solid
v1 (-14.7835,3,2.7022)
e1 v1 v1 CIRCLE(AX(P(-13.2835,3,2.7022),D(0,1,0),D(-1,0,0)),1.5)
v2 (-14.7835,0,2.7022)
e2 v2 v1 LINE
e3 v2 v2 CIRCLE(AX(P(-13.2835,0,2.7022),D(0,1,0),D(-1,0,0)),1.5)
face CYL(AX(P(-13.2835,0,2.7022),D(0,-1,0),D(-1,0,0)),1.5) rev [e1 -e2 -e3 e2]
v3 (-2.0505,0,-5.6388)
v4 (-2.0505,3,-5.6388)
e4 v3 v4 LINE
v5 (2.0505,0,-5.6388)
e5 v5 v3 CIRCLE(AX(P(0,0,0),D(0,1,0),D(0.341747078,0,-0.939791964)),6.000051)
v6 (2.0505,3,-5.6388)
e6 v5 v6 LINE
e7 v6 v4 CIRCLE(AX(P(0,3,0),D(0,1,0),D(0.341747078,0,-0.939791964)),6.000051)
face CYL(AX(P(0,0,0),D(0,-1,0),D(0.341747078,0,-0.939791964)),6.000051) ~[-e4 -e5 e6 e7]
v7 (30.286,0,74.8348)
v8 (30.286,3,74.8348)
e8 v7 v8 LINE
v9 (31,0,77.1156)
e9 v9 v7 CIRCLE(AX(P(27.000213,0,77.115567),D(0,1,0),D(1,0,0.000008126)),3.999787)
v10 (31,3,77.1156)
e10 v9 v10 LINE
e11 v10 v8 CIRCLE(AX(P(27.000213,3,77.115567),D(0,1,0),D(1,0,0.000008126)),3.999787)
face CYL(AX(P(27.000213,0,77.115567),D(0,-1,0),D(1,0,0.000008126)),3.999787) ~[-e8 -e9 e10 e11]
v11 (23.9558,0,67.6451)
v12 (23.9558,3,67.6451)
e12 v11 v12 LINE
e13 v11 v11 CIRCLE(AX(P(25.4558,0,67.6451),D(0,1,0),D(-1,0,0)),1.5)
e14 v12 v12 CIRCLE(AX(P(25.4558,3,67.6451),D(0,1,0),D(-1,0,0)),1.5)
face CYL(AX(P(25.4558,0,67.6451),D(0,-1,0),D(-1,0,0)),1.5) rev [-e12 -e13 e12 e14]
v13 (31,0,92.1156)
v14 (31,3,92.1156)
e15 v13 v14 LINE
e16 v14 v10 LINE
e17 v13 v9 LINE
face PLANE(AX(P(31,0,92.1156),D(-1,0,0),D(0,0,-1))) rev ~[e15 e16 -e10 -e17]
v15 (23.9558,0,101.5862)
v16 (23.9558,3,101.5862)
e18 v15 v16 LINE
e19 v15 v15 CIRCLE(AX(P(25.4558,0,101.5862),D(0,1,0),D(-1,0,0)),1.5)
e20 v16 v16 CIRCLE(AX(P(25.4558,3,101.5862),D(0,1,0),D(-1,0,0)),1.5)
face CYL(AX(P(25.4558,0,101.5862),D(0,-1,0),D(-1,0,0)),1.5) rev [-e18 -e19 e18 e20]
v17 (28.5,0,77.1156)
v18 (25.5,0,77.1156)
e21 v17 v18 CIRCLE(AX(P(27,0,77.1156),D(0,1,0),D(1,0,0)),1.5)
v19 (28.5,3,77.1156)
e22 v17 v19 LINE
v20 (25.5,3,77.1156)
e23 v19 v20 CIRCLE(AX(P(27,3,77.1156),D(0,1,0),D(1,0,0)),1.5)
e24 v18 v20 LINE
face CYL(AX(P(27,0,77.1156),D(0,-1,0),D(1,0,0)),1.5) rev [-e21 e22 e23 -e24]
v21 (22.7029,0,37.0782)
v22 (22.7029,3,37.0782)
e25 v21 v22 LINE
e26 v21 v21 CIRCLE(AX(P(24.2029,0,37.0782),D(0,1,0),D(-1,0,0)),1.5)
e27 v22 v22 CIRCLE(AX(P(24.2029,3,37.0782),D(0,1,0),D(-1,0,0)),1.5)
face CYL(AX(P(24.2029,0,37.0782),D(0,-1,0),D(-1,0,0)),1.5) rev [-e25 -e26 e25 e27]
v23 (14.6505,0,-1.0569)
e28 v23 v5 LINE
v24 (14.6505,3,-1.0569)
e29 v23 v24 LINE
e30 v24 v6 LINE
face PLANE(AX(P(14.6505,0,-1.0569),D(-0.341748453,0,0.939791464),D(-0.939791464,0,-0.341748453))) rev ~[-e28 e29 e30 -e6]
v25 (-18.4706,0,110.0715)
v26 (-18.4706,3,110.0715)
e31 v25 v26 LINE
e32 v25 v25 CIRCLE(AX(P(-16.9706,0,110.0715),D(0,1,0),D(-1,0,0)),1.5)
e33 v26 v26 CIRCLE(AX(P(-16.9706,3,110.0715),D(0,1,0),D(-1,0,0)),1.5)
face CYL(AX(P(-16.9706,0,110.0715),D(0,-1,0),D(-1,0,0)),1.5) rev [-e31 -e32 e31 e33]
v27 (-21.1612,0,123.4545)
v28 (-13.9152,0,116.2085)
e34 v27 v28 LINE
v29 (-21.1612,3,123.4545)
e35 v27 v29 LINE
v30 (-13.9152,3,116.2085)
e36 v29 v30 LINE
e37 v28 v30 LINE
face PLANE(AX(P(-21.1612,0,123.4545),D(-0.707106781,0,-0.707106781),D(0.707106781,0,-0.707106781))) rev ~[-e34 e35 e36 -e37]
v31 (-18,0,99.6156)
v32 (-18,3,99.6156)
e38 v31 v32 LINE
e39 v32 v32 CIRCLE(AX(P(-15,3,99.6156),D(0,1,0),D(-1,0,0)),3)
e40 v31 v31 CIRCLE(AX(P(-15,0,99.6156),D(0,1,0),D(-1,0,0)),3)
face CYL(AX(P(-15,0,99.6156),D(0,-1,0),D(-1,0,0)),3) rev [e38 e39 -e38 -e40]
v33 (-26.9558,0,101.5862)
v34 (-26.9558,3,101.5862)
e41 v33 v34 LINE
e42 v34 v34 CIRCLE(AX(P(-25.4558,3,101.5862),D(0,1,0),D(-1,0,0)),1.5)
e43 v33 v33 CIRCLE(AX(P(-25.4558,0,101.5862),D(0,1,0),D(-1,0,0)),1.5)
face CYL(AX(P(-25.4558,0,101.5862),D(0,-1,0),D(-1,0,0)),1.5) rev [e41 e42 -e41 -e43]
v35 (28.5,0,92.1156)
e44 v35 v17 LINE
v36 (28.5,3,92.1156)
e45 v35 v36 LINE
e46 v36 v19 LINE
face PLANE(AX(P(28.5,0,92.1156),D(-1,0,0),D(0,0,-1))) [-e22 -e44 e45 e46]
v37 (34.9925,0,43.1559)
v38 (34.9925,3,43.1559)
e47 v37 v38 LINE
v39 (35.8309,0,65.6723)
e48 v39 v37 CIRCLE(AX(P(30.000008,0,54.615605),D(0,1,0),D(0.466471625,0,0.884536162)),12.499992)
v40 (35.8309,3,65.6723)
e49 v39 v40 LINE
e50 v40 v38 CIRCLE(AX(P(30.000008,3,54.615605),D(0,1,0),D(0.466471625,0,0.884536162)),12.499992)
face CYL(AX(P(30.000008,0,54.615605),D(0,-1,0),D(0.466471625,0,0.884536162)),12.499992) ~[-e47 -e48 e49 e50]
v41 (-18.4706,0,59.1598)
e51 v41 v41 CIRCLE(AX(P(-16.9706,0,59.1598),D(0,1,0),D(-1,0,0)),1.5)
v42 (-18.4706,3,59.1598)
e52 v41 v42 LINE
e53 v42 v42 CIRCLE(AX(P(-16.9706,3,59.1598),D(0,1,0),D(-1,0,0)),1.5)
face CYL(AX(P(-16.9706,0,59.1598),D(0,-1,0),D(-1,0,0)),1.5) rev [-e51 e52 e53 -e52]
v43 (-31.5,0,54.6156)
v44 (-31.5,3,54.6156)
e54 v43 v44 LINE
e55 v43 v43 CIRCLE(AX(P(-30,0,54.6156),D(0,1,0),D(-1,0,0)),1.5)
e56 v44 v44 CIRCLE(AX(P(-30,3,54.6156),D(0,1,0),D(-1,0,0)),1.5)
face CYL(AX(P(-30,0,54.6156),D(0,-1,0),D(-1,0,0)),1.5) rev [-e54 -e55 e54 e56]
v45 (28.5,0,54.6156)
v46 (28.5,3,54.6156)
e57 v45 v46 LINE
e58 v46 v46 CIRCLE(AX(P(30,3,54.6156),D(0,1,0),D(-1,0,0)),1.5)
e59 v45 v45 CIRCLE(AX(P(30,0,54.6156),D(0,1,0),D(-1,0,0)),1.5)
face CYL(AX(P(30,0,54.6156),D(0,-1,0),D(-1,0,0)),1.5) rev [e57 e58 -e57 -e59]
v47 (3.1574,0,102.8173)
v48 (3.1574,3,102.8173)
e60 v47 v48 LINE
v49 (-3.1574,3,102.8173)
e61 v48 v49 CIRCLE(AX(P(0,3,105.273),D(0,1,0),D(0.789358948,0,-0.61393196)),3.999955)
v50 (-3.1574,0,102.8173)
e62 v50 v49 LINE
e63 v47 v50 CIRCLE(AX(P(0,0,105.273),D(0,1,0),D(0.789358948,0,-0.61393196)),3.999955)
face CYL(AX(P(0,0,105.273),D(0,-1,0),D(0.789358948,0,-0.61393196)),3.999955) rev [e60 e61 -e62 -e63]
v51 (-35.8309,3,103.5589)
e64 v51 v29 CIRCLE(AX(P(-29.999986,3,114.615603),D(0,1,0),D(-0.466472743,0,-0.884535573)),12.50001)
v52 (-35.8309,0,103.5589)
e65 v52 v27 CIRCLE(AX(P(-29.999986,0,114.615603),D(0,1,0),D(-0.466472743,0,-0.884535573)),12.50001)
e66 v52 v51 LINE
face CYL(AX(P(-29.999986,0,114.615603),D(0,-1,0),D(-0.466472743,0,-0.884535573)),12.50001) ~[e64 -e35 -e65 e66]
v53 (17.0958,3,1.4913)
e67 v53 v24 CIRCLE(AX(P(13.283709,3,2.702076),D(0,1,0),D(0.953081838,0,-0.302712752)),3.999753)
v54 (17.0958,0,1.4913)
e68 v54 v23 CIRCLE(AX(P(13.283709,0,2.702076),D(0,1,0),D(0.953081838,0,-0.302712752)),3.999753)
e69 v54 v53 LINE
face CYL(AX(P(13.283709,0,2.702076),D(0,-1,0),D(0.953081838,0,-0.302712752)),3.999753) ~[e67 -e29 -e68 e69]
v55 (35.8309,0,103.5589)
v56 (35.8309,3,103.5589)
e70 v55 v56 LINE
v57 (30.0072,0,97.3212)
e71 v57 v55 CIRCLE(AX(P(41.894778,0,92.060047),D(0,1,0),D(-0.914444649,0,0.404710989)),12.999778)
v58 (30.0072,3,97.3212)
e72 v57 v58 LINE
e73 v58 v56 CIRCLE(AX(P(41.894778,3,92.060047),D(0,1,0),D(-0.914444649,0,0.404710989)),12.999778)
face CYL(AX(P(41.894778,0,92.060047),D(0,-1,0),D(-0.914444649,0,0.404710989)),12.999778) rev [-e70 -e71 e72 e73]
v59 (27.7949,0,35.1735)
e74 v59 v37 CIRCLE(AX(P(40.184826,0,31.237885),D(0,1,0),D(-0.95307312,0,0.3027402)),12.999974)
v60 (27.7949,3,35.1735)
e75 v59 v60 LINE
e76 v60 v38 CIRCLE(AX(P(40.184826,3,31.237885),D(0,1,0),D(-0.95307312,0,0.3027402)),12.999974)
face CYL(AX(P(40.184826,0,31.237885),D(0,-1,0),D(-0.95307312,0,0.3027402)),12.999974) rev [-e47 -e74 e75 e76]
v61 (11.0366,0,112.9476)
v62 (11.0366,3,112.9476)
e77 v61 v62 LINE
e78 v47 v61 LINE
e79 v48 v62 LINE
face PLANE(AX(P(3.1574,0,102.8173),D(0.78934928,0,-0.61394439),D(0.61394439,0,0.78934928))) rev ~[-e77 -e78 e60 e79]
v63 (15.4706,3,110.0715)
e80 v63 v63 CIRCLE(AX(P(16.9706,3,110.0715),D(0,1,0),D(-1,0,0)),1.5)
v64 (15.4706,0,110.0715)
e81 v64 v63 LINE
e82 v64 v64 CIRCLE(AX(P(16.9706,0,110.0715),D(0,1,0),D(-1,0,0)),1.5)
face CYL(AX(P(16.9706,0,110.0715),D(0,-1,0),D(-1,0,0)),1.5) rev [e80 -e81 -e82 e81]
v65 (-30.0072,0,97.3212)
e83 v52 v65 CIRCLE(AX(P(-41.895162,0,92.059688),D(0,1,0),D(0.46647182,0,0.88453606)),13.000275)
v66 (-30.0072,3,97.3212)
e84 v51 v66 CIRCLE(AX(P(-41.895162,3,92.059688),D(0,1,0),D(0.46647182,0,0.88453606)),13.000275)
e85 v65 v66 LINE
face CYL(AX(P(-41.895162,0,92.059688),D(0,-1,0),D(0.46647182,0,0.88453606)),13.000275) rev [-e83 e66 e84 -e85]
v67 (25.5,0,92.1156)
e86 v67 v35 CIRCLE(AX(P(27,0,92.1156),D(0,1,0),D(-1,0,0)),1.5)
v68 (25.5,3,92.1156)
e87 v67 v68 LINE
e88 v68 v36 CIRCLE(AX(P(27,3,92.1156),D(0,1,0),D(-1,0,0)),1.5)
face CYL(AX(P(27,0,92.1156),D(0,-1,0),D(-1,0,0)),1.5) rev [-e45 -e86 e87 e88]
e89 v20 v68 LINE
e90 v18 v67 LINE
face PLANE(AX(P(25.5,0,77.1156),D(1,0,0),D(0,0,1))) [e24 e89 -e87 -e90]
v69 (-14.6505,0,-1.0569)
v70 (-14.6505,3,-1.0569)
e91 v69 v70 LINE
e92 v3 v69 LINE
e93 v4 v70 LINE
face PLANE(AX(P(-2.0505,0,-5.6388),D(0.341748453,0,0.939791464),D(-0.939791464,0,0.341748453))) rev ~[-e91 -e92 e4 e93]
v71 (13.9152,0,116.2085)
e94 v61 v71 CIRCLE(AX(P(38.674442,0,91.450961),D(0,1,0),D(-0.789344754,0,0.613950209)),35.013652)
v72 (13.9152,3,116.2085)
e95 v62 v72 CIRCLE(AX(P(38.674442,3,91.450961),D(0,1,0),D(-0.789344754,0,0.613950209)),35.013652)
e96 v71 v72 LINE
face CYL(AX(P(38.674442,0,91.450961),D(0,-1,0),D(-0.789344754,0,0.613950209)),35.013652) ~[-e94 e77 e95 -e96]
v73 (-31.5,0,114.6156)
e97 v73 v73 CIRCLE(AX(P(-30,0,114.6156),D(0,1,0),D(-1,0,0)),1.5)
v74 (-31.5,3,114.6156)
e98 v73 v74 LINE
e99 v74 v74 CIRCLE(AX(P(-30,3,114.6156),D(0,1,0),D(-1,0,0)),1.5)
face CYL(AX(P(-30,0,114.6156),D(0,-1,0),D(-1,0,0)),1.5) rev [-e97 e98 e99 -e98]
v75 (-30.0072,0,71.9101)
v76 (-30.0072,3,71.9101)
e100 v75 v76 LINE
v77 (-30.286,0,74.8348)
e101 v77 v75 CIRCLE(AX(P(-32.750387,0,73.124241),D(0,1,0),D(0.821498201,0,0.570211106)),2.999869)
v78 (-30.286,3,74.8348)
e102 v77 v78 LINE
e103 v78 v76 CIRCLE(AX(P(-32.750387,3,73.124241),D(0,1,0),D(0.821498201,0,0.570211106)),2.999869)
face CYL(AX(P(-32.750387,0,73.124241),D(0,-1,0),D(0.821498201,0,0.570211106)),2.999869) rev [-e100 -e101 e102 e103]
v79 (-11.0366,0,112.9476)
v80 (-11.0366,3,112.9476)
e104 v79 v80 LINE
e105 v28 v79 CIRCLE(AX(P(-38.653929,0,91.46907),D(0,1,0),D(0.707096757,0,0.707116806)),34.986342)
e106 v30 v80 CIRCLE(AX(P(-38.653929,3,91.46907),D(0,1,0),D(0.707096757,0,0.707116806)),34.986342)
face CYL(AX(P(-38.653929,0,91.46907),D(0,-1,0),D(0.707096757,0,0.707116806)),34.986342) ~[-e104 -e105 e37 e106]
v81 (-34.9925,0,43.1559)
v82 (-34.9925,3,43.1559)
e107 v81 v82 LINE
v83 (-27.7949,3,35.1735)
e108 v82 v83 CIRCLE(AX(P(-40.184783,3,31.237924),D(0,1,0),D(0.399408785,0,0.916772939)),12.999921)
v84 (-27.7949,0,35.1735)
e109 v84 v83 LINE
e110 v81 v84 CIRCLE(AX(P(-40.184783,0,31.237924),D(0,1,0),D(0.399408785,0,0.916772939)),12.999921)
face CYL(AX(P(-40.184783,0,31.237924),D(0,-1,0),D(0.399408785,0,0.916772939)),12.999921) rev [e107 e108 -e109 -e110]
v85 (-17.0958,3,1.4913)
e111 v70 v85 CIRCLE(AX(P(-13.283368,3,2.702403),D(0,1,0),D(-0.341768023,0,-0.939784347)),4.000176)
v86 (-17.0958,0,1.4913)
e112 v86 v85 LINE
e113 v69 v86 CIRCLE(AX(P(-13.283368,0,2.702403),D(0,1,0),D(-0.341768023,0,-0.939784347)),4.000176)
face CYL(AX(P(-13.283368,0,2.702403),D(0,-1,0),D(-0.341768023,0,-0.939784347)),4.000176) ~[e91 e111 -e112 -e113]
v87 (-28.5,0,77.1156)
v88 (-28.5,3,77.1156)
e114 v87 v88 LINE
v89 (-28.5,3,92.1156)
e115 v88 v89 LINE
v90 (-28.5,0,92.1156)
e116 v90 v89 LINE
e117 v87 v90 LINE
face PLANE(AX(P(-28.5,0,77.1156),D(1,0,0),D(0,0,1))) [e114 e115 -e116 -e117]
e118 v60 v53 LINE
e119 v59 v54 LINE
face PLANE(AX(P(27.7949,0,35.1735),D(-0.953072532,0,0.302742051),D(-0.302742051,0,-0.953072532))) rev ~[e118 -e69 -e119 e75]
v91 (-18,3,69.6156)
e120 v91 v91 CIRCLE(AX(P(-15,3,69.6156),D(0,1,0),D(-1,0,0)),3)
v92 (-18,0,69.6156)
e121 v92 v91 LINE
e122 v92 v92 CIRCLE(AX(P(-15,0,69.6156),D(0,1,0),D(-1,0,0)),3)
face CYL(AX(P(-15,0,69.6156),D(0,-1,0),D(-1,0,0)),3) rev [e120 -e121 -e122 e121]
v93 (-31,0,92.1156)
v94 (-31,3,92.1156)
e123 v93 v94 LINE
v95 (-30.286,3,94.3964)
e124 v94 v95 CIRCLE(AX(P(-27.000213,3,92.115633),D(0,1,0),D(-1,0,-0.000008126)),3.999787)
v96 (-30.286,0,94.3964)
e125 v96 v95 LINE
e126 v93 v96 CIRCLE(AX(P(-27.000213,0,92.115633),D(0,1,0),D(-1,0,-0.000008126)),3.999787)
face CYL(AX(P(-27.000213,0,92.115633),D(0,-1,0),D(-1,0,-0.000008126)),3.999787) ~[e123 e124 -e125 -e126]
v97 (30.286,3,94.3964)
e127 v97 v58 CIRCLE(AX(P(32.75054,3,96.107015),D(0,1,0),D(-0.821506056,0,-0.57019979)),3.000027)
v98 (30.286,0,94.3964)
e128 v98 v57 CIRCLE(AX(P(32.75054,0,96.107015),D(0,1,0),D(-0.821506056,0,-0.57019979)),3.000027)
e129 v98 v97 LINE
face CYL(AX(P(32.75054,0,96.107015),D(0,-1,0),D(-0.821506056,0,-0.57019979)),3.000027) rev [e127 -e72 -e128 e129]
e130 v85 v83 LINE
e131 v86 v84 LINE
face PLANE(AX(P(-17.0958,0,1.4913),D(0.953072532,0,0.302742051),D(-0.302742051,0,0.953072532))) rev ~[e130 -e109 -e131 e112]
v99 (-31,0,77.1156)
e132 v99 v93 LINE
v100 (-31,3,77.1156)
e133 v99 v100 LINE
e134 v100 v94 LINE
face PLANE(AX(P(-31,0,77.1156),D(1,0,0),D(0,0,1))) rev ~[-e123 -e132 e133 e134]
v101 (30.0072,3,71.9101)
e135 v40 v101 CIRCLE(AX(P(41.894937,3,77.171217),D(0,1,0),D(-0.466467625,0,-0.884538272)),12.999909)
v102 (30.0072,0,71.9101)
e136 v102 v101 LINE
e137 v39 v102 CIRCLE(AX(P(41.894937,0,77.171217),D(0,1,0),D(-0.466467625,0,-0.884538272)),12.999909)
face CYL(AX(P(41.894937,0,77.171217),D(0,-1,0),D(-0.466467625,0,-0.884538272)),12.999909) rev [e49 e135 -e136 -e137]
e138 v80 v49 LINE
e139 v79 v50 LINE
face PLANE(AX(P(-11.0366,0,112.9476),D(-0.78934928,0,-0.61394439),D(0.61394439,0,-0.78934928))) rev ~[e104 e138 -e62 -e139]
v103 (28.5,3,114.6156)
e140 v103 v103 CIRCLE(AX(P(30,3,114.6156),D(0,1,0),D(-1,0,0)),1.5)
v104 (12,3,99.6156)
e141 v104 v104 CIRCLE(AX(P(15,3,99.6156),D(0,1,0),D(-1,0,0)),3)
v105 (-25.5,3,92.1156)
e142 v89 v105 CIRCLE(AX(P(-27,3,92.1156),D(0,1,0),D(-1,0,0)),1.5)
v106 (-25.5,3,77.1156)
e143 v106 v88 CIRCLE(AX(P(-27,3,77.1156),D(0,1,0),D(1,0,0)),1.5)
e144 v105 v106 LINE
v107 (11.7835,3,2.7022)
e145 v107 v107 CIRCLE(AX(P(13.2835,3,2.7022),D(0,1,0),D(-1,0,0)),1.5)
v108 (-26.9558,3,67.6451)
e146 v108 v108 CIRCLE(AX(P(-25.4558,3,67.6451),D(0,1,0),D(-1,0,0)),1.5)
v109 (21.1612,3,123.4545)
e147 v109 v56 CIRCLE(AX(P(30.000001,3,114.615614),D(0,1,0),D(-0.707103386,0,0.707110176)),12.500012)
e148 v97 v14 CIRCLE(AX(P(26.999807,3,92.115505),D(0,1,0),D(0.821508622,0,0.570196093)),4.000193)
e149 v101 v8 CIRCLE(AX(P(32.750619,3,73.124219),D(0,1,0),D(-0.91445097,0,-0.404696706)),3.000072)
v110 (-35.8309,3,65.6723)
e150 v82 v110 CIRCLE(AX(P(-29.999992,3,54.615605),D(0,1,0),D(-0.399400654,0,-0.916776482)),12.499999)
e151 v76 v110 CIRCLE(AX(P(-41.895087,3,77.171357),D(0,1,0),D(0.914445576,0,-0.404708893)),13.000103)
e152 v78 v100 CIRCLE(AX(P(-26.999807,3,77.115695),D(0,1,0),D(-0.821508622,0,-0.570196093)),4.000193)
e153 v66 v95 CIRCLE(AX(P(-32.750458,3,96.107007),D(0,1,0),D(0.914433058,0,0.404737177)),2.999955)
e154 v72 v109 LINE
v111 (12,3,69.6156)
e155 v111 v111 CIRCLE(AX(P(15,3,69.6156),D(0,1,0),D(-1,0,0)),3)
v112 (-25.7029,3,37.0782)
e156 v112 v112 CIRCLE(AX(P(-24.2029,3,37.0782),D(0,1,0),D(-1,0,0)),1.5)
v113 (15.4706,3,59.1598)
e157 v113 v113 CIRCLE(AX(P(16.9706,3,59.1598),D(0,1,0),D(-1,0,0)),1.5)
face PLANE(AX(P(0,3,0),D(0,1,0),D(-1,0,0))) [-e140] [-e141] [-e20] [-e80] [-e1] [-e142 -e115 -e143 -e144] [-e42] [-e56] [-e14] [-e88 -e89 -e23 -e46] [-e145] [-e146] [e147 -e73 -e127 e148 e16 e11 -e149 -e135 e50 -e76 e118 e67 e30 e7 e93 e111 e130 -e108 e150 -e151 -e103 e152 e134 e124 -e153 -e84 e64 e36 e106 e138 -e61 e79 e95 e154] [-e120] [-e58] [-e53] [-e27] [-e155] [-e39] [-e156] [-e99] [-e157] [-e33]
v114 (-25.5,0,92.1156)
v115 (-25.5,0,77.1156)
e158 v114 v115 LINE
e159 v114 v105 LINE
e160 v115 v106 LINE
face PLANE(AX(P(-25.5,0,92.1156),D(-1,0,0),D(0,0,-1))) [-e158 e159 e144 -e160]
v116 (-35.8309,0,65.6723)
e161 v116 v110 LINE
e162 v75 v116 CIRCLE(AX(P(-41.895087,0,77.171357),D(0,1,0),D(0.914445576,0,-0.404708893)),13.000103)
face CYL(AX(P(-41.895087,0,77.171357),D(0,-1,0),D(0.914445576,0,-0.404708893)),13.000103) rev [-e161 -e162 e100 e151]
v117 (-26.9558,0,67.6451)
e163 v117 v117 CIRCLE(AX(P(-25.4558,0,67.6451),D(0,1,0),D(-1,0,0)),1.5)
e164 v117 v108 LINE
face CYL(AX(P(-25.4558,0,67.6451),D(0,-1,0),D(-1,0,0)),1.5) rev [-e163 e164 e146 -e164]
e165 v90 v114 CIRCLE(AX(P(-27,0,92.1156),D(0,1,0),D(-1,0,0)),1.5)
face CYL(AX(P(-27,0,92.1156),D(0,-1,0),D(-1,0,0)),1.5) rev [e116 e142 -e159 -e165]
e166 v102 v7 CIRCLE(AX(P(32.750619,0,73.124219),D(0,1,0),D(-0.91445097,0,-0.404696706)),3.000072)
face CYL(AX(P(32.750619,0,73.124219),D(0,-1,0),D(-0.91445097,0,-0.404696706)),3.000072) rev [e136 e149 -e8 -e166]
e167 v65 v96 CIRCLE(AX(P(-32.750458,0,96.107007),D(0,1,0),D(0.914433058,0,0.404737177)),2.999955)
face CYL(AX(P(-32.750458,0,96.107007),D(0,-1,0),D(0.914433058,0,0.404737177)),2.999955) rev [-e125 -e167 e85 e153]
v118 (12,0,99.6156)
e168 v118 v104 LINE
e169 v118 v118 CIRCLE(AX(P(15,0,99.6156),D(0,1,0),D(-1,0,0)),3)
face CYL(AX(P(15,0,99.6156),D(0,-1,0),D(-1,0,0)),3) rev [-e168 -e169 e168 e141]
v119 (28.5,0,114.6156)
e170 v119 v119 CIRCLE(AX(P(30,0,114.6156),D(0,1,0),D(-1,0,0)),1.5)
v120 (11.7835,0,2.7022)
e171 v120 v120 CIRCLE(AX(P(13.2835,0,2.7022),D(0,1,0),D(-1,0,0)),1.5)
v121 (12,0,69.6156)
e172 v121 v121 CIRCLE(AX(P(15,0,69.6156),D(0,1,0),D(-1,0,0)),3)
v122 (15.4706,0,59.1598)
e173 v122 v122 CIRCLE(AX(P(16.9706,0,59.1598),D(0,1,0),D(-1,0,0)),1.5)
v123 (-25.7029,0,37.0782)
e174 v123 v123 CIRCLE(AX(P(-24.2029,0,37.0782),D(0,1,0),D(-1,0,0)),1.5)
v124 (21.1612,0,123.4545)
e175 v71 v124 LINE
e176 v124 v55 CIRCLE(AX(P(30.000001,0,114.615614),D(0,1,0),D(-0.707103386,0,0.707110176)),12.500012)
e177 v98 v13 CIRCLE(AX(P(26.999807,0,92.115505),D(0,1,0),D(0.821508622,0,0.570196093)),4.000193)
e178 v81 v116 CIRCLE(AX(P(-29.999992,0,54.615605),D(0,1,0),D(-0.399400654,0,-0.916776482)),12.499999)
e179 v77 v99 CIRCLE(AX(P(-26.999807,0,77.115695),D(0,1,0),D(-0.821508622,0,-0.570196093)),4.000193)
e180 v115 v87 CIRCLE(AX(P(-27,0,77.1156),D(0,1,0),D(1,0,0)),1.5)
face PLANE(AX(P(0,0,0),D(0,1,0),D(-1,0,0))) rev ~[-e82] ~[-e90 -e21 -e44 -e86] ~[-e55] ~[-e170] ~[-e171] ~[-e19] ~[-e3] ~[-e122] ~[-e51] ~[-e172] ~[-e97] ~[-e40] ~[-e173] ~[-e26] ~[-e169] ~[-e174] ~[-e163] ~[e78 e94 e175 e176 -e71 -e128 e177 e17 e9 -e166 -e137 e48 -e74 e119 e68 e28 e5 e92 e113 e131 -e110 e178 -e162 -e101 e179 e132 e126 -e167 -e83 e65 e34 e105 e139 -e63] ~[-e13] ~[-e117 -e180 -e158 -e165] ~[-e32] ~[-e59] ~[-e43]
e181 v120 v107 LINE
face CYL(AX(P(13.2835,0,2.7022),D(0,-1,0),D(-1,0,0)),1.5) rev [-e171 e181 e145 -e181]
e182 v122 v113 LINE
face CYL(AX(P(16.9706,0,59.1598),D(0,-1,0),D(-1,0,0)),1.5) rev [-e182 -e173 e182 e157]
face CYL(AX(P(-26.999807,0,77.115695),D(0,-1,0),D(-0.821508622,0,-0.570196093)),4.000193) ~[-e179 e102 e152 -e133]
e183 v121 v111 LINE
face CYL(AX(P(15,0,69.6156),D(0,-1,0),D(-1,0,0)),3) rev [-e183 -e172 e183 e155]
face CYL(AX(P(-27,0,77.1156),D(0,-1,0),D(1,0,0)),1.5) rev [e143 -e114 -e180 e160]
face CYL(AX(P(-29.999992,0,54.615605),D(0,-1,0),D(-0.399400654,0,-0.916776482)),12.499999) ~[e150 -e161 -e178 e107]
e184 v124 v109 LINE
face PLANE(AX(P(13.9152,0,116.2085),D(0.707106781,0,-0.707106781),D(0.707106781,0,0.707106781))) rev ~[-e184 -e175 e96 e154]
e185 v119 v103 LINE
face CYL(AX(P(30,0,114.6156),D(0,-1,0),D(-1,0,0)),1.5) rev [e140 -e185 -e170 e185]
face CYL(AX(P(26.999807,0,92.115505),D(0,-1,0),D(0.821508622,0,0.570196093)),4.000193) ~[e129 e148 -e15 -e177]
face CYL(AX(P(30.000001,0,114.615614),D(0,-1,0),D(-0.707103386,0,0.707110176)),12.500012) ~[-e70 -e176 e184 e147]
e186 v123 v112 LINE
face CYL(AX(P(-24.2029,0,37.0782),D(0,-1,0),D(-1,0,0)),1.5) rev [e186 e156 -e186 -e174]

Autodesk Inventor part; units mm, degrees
ref_plane "YZ Plane" through (0, 0, 0) normal (1, 0, 0) x (0, 1, 0)
ref_plane "XZ Plane" through (0, 0, 0) normal (0, 1, 0) x (-1, 0, 0)
ref_plane "XY Plane" through (0, 0, 0) normal (0, 0, 1) x (1, 0, 0)
sketch "Sketch1" plane through (0, 0, 0) normal (0, 1, 0) x (-1, 0, 0)
  arc A0 (-30.0072, 97.3212) -> (-35.8309, 103.5589) centre (-41.895, 92.0599) ccw
  arc A1 (-30.286, 94.3964) -> (-30.0072, 97.3212) centre (-32.7505, 96.107) ccw
  arc A2 (-30.286, 94.3964) -> (-31, 92.1156) centre (-27, 92.1156) ccw
  line L0 (-31, 92.1156) -> (-31, 77.1156)
  arc A3 (-31, 77.1156) -> (-30.286, 74.8348) centre (-27, 77.1156) ccw
  arc A4 (-30.0072, 71.9101) -> (-30.286, 74.8348) centre (-32.7505, 73.1242) ccw
  arc A5 (-35.8309, 65.6723) -> (-30.0072, 71.9101) centre (-41.895, 77.1713) ccw
  arc A6 (-35.8309, 65.6723) -> (-34.9925, 43.1559) centre (-30, 54.6156) ccw
  arc A7 (-27.7949, 35.1735) -> (-34.9925, 43.1559) centre (-40.1848, 31.2379) ccw
  line L1 (-27.7949, 35.1735) -> (-17.0958, 1.4913)
  arc A8 (-17.0958, 1.4913) -> (-14.6505, -1.0569) centre (-13.2835, 2.7022) ccw
  line L2 (-14.6505, -1.0569) -> (-2.0505, -5.6388)
  arc A9 (-2.0505, -5.6388) -> (2.0505, -5.6388) centre (0, 0) ccw
  line L3 (2.0505, -5.6388) -> (14.6505, -1.0569)
  arc A10 (14.6505, -1.0569) -> (17.0958, 1.4913) centre (13.2835, 2.7022) ccw
  line L4 (17.0958, 1.4913) -> (27.7949, 35.1735)
  arc A11 (34.9925, 43.1559) -> (27.7949, 35.1735) centre (40.1848, 31.2379) ccw
  arc A12 (34.9925, 43.1559) -> (35.8309, 65.6723) centre (30, 54.6156) ccw
  arc A13 (30.0072, 71.9101) -> (35.8309, 65.6723) centre (41.895, 77.1713) ccw
  arc A14 (30.286, 74.8348) -> (30.0072, 71.9101) centre (32.7505, 73.1242) ccw
  arc A15 (30.286, 74.8348) -> (31, 77.1156) centre (27, 77.1156) ccw
  line L5 (31, 77.1156) -> (31, 92.1156)
  arc A16 (31, 92.1156) -> (30.286, 94.3964) centre (27, 92.1156) ccw
  arc A17 (30.0072, 97.3212) -> (30.286, 94.3964) centre (32.7505, 96.107) ccw
  arc A18 (35.8309, 103.5589) -> (30.0072, 97.3212) centre (41.895, 92.0599) ccw
  arc A19 (35.8309, 103.5589) -> (21.1612, 123.4545) centre (30, 114.6156) ccw
  line L6 (21.1612, 123.4545) -> (13.9152, 116.2085)
  arc A20 (13.9152, 116.2085) -> (11.0366, 112.9476) centre (38.6639, 91.4597) ccw
  line L7 (11.0366, 112.9476) -> (3.1574, 102.8173)
  arc A21 (-3.1574, 102.8173) -> (3.1574, 102.8173) centre (0, 105.273) ccw
  line L8 (-3.1574, 102.8173) -> (-11.0366, 112.9476)
  arc A22 (-11.0366, 112.9476) -> (-13.9152, 116.2085) centre (-38.6639, 91.4597) ccw
  line L9 (-13.9152, 116.2085) -> (-21.1612, 123.4545)
  arc A23 (-21.1612, 123.4545) -> (-35.8309, 103.5589) centre (-30, 114.6156) ccw
  arc A24 (25.5, 77.1156) -> (28.5, 77.1156) centre (27, 77.1156) ccw
  line L10 (25.5, 92.1156) -> (25.5, 77.1156)
  arc A25 (28.5, 92.1156) -> (25.5, 92.1156) centre (27, 92.1156) ccw
  line L11 (28.5, 77.1156) -> (28.5, 92.1156)
  arc A26 (-28.5, 77.1156) -> (-25.5, 77.1156) centre (-27, 77.1156) ccw
  line L12 (-28.5, 92.1156) -> (-28.5, 77.1156)
  arc A27 (-25.5, 92.1156) -> (-28.5, 92.1156) centre (-27, 92.1156) ccw
  line L13 (-25.5, 77.1156) -> (-25.5, 92.1156)
  circle A28 centre (-30, 54.6156) radius 1.5
  circle A29 centre (-13.2835, 2.7022) radius 1.5
  circle A30 centre (-25.4558, 101.5862) radius 1.5
  circle A31 centre (-25.4558, 67.6451) radius 1.5
  circle A32 centre (-15, 99.6156) radius 3
  circle A33 centre (25.4558, 67.6451) radius 1.5
  circle A34 centre (25.4558, 101.5862) radius 1.5
  circle A35 centre (15, 69.6156) radius 3
  circle A36 centre (30, 54.6156) radius 1.5
  circle A37 centre (30, 114.6156) radius 1.5
  circle A38 centre (24.2029, 37.0782) radius 1.5
  circle A39 centre (13.2835, 2.7022) radius 1.5
  circle A40 centre (16.9706, 110.0715) radius 1.5
  circle A41 centre (16.9706, 59.1598) radius 1.5
  circle A42 centre (15, 99.6156) radius 3
  circle A43 centre (-15, 69.6156) radius 3
  circle A44 centre (-16.9706, 59.1598) radius 1.5
  circle A45 centre (-16.9706, 110.0715) radius 1.5
  circle A46 centre (-24.2029, 37.0782) radius 1.5
  circle A47 centre (-30, 114.6156) radius 1.5
  point P0 (-30.286, 94.3964)
  point P1 (-35.8309, 65.6723)
  point P2 (-34.9925, 43.1559)
  point P3 (-27.7949, 35.1735)
  point P4 (-17.0958, 1.4913)
  point P5 (-14.6505, -1.0569)
  point P6 (2.0505, -5.6388)
  point P7 (14.6505, -1.0569)
  point P8 (27.7949, 35.1735)
  point P9 (35.8309, 65.6723)
  point P10 (30.0072, 71.9101)
  point P11 (30.286, 74.8348)
  point P12 (30.286, 94.3964)
  point P13 (30.0072, 97.3212)
  point P14 (13.9152, 116.2085)
  point P15 (11.0366, 112.9476)
  point P16 (-3.1574, 102.8173)
  point P17 (-13.9152, 116.2085)
  point P18 (-21.1612, 123.4545)
  point P19 (-35.8309, 103.5589)
  point P20 (-30.0072, 97.3212)
  point P21 (25.5, 77.1156)
  point P22 (28.5, 77.1156)
extrude "Extrusion1" add sketch "Sketch1" along normal blind 3
sketch "Sketch2" plane through (0, 3, 0) normal (0, 1, 0) x (1, 0, 0)
  line L0 (31, -92.1156) -> (31, -77.1156) construction
  arc A0 (31, -77.1156) -> (30.286, -74.8348) centre (27, -77.1156) ccw construction
  arc A1 (30.0072, -71.9101) -> (30.286, -74.8348) centre (32.7505, -73.1242) ccw construction
  arc A2 (35.8309, -65.6723) -> (30.0072, -71.9101) centre (41.895, -77.1713) ccw construction
  arc A3 (35.8309, -65.6723) -> (34.9925, -43.1559) centre (30, -54.6156) ccw construction
  arc A4 (27.7949, -35.1735) -> (34.9925, -43.1559) centre (40.1848, -31.2379) ccw construction
  line L1 (27.7949, -35.1735) -> (17.0958, -1.4913) construction
  arc A5 (17.0958, -1.4913) -> (14.6505, 1.0569) centre (13.2835, -2.7022) ccw construction
  line L2 (14.6505, 1.0569) -> (2.0505, 5.6388) construction
  arc A6 (2.0505, 5.6388) -> (-2.0505, 5.6388) centre (0, 0) ccw construction
  line L3 (-2.0505, 5.6388) -> (-14.6505, 1.0569) construction
  arc A7 (-14.6505, 1.0569) -> (-17.0958, -1.4913) centre (-13.2835, -2.7022) ccw construction
  line L4 (-17.0958, -1.4913) -> (-27.7949, -35.1735) construction
  arc A8 (-34.9925, -43.1559) -> (-27.7949, -35.1735) centre (-40.1848, -31.2379) ccw construction
  arc A9 (-34.9925, -43.1559) -> (-35.8309, -65.6723) centre (-30, -54.6156) ccw construction
  arc A10 (-30.0072, -71.9101) -> (-35.8309, -65.6723) centre (-41.895, -77.1713) ccw construction
  arc A11 (-30.286, -74.8348) -> (-30.0072, -71.9101) centre (-32.7505, -73.1242) ccw construction
  arc A12 (-30.286, -74.8348) -> (-31, -77.1156) centre (-27, -77.1156) ccw construction
  line L5 (-31, -77.1156) -> (-31, -92.1156) construction
  arc A13 (-31, -92.1156) -> (-30.286, -94.3964) centre (-27, -92.1156) ccw construction
  arc A14 (-30.0072, -97.3212) -> (-30.286, -94.3964) centre (-32.7505, -96.107) ccw construction
  arc A15 (-35.8309, -103.5589) -> (-30.0072, -97.3212) centre (-41.895, -92.0599) ccw construction
  arc A16 (-35.8309, -103.5589) -> (-21.1612, -123.4545) centre (-30, -114.6156) ccw construction
  line L6 (-21.1612, -123.4545) -> (-13.9152, -116.2085) construction
  arc A17 (-13.9152, -116.2085) -> (-11.0366, -112.9476) centre (-38.6639, -91.4597) ccw construction
  line L7 (-11.0366, -112.9476) -> (-3.1574, -102.8173) construction
  arc A18 (3.1574, -102.8173) -> (-3.1574, -102.8173) centre (0, -105.273) ccw construction
  line L8 (3.1574, -102.8173) -> (11.0366, -112.9476) construction
  arc A19 (11.0366, -112.9476) -> (13.9152, -116.2085) centre (38.6639, -91.4597) ccw construction
  line L9 (13.9152, -116.2085) -> (21.1612, -123.4545) construction
  arc A20 (21.1612, -123.4545) -> (35.8309, -103.5589) centre (30, -114.6156) ccw construction
  arc A21 (30.0072, -97.3212) -> (35.8309, -103.5589) centre (41.895, -92.0599) ccw construction
  arc A22 (30.286, -94.3964) -> (30.0072, -97.3212) centre (32.7505, -96.107) ccw construction
  arc A23 (30.286, -94.3964) -> (31, -92.1156) centre (27, -92.1156) ccw construction
  circle A24 centre (25.4558, -101.5862) radius 1.5 construction
  circle A25 centre (-16.9706, -110.0715) radius 1.5 projected
  circle A26 centre (-15, -99.6156) radius 3 construction
  circle A27 centre (-15, -69.6156) radius 3 construction
  circle A28 centre (-24.2029, -37.0782) radius 1.5 construction
  circle A29 centre (24.2029, -37.0782) radius 1.5 construction
  circle A30 centre (15, -69.6156) radius 3 construction
  circle A31 centre (16.9706, -59.1598) radius 1.5 construction
  circle A32 centre (30, -54.6156) radius 1.5 construction
  circle A33 centre (25.4558, -67.6451) radius 1.5 construction
  circle A34 centre (16.9706, -110.0715) radius 1.5 projected
  circle A35 centre (15, -99.6156) radius 3 construction
  circle A36 centre (-25.4558, -67.6451) radius 1.5 construction
  circle A37 centre (-16.9706, -59.1598) radius 1.5 construction
  circle A38 centre (-25.4558, -101.5862) radius 1.5 construction
  circle A39 centre (-30, -54.6156) radius 1.5 construction
  circle A40 centre (-13.2835, -2.7022) radius 1.5 construction
  circle A41 centre (13.2835, -2.7022) radius 1.5 construction
  circle A42 centre (30, -114.6156) radius 1.5 projected
  line L10 (-25.5, -77.1156) -> (-25.5, -92.1156) construction
  arc A43 (-28.5, -92.1156) -> (-25.5, -92.1156) centre (-27, -92.1156) ccw construction
  line L11 (-28.5, -92.1156) -> (-28.5, -77.1156) construction
  arc A44 (-25.5, -77.1156) -> (-28.5, -77.1156) centre (-27, -77.1156) ccw construction
  circle A45 centre (-30, -114.6156) radius 1.5 projected
  line L12 (28.5, -77.1156) -> (28.5, -92.1156) construction
  arc A46 (25.5, -92.1156) -> (28.5, -92.1156) centre (27, -92.1156) ccw construction
  line L13 (25.5, -92.1156) -> (25.5, -77.1156) construction
  arc A47 (28.5, -77.1156) -> (25.5, -77.1156) centre (27, -77.1156) ccw construction
  circle A48 centre (16.9706, -110.0715) radius 5 construction
  circle A49 centre (-16.9706, -110.0715) radius 5 construction
  arc A50 (-31.1155, -107.199) -> (-30, -122.1156) centre (-30, -114.6156) ccw
  arc A51 (30, -122.1156) -> (31.1155, -107.199) centre (30, -114.6156) ccw
  line L14 (30, -122.1156) -> (-30, -122.1156)
  line L15 (-16.9706, -105.0715) -> (16.9706, -105.0715)
  line L16 (-16.9706, -105.0715) -> (-31.1155, -107.199)
  line L17 (16.9706, -105.0715) -> (31.1155, -107.199)
  arc A52 (31.1155, -107.199) -> (30, -122.1156) centre (30, -114.6156) ccw construction
  arc A53 (-30, -122.1156) -> (-31.1155, -107.199) centre (-30, -114.6156) ccw construction
  line L18 (0, -105.273) -> (0, -113.6943) construction
  line L19 (0, -113.6943) -> (3.1574, -113.6943) construction
  line L20 (0, -113.6943) -> (0, -122.1156) construction
  circle A54 centre (0, -109.4837) radius 1.55
  line L21 (0, -117.905) -> (15.6117, -117.905) construction
  line L22 (13.9152, -116.2085) -> (21.1612, -123.4545) projected
  line L23 (0, -117.905) -> (-15.6117, -117.905) construction
  line L24 (-21.1612, -123.4545) -> (-13.9152, -116.2085) projected
  circle A55 centre (7.8058, -117.905) radius 1.55
  circle A56 centre (-7.8058, -117.905) radius 1.55
  dimension "d2" = 10
  dimension "d3" = 10
  dimension "d4" = 15
  dimension "d5" = 15
  dimension "d8" = 3.1
  dimension "d9" = 3.1
  dimension "d10" = 3.1
extrude "Extrusion2" [suppressed]
properties part number "399 prig z plate"
